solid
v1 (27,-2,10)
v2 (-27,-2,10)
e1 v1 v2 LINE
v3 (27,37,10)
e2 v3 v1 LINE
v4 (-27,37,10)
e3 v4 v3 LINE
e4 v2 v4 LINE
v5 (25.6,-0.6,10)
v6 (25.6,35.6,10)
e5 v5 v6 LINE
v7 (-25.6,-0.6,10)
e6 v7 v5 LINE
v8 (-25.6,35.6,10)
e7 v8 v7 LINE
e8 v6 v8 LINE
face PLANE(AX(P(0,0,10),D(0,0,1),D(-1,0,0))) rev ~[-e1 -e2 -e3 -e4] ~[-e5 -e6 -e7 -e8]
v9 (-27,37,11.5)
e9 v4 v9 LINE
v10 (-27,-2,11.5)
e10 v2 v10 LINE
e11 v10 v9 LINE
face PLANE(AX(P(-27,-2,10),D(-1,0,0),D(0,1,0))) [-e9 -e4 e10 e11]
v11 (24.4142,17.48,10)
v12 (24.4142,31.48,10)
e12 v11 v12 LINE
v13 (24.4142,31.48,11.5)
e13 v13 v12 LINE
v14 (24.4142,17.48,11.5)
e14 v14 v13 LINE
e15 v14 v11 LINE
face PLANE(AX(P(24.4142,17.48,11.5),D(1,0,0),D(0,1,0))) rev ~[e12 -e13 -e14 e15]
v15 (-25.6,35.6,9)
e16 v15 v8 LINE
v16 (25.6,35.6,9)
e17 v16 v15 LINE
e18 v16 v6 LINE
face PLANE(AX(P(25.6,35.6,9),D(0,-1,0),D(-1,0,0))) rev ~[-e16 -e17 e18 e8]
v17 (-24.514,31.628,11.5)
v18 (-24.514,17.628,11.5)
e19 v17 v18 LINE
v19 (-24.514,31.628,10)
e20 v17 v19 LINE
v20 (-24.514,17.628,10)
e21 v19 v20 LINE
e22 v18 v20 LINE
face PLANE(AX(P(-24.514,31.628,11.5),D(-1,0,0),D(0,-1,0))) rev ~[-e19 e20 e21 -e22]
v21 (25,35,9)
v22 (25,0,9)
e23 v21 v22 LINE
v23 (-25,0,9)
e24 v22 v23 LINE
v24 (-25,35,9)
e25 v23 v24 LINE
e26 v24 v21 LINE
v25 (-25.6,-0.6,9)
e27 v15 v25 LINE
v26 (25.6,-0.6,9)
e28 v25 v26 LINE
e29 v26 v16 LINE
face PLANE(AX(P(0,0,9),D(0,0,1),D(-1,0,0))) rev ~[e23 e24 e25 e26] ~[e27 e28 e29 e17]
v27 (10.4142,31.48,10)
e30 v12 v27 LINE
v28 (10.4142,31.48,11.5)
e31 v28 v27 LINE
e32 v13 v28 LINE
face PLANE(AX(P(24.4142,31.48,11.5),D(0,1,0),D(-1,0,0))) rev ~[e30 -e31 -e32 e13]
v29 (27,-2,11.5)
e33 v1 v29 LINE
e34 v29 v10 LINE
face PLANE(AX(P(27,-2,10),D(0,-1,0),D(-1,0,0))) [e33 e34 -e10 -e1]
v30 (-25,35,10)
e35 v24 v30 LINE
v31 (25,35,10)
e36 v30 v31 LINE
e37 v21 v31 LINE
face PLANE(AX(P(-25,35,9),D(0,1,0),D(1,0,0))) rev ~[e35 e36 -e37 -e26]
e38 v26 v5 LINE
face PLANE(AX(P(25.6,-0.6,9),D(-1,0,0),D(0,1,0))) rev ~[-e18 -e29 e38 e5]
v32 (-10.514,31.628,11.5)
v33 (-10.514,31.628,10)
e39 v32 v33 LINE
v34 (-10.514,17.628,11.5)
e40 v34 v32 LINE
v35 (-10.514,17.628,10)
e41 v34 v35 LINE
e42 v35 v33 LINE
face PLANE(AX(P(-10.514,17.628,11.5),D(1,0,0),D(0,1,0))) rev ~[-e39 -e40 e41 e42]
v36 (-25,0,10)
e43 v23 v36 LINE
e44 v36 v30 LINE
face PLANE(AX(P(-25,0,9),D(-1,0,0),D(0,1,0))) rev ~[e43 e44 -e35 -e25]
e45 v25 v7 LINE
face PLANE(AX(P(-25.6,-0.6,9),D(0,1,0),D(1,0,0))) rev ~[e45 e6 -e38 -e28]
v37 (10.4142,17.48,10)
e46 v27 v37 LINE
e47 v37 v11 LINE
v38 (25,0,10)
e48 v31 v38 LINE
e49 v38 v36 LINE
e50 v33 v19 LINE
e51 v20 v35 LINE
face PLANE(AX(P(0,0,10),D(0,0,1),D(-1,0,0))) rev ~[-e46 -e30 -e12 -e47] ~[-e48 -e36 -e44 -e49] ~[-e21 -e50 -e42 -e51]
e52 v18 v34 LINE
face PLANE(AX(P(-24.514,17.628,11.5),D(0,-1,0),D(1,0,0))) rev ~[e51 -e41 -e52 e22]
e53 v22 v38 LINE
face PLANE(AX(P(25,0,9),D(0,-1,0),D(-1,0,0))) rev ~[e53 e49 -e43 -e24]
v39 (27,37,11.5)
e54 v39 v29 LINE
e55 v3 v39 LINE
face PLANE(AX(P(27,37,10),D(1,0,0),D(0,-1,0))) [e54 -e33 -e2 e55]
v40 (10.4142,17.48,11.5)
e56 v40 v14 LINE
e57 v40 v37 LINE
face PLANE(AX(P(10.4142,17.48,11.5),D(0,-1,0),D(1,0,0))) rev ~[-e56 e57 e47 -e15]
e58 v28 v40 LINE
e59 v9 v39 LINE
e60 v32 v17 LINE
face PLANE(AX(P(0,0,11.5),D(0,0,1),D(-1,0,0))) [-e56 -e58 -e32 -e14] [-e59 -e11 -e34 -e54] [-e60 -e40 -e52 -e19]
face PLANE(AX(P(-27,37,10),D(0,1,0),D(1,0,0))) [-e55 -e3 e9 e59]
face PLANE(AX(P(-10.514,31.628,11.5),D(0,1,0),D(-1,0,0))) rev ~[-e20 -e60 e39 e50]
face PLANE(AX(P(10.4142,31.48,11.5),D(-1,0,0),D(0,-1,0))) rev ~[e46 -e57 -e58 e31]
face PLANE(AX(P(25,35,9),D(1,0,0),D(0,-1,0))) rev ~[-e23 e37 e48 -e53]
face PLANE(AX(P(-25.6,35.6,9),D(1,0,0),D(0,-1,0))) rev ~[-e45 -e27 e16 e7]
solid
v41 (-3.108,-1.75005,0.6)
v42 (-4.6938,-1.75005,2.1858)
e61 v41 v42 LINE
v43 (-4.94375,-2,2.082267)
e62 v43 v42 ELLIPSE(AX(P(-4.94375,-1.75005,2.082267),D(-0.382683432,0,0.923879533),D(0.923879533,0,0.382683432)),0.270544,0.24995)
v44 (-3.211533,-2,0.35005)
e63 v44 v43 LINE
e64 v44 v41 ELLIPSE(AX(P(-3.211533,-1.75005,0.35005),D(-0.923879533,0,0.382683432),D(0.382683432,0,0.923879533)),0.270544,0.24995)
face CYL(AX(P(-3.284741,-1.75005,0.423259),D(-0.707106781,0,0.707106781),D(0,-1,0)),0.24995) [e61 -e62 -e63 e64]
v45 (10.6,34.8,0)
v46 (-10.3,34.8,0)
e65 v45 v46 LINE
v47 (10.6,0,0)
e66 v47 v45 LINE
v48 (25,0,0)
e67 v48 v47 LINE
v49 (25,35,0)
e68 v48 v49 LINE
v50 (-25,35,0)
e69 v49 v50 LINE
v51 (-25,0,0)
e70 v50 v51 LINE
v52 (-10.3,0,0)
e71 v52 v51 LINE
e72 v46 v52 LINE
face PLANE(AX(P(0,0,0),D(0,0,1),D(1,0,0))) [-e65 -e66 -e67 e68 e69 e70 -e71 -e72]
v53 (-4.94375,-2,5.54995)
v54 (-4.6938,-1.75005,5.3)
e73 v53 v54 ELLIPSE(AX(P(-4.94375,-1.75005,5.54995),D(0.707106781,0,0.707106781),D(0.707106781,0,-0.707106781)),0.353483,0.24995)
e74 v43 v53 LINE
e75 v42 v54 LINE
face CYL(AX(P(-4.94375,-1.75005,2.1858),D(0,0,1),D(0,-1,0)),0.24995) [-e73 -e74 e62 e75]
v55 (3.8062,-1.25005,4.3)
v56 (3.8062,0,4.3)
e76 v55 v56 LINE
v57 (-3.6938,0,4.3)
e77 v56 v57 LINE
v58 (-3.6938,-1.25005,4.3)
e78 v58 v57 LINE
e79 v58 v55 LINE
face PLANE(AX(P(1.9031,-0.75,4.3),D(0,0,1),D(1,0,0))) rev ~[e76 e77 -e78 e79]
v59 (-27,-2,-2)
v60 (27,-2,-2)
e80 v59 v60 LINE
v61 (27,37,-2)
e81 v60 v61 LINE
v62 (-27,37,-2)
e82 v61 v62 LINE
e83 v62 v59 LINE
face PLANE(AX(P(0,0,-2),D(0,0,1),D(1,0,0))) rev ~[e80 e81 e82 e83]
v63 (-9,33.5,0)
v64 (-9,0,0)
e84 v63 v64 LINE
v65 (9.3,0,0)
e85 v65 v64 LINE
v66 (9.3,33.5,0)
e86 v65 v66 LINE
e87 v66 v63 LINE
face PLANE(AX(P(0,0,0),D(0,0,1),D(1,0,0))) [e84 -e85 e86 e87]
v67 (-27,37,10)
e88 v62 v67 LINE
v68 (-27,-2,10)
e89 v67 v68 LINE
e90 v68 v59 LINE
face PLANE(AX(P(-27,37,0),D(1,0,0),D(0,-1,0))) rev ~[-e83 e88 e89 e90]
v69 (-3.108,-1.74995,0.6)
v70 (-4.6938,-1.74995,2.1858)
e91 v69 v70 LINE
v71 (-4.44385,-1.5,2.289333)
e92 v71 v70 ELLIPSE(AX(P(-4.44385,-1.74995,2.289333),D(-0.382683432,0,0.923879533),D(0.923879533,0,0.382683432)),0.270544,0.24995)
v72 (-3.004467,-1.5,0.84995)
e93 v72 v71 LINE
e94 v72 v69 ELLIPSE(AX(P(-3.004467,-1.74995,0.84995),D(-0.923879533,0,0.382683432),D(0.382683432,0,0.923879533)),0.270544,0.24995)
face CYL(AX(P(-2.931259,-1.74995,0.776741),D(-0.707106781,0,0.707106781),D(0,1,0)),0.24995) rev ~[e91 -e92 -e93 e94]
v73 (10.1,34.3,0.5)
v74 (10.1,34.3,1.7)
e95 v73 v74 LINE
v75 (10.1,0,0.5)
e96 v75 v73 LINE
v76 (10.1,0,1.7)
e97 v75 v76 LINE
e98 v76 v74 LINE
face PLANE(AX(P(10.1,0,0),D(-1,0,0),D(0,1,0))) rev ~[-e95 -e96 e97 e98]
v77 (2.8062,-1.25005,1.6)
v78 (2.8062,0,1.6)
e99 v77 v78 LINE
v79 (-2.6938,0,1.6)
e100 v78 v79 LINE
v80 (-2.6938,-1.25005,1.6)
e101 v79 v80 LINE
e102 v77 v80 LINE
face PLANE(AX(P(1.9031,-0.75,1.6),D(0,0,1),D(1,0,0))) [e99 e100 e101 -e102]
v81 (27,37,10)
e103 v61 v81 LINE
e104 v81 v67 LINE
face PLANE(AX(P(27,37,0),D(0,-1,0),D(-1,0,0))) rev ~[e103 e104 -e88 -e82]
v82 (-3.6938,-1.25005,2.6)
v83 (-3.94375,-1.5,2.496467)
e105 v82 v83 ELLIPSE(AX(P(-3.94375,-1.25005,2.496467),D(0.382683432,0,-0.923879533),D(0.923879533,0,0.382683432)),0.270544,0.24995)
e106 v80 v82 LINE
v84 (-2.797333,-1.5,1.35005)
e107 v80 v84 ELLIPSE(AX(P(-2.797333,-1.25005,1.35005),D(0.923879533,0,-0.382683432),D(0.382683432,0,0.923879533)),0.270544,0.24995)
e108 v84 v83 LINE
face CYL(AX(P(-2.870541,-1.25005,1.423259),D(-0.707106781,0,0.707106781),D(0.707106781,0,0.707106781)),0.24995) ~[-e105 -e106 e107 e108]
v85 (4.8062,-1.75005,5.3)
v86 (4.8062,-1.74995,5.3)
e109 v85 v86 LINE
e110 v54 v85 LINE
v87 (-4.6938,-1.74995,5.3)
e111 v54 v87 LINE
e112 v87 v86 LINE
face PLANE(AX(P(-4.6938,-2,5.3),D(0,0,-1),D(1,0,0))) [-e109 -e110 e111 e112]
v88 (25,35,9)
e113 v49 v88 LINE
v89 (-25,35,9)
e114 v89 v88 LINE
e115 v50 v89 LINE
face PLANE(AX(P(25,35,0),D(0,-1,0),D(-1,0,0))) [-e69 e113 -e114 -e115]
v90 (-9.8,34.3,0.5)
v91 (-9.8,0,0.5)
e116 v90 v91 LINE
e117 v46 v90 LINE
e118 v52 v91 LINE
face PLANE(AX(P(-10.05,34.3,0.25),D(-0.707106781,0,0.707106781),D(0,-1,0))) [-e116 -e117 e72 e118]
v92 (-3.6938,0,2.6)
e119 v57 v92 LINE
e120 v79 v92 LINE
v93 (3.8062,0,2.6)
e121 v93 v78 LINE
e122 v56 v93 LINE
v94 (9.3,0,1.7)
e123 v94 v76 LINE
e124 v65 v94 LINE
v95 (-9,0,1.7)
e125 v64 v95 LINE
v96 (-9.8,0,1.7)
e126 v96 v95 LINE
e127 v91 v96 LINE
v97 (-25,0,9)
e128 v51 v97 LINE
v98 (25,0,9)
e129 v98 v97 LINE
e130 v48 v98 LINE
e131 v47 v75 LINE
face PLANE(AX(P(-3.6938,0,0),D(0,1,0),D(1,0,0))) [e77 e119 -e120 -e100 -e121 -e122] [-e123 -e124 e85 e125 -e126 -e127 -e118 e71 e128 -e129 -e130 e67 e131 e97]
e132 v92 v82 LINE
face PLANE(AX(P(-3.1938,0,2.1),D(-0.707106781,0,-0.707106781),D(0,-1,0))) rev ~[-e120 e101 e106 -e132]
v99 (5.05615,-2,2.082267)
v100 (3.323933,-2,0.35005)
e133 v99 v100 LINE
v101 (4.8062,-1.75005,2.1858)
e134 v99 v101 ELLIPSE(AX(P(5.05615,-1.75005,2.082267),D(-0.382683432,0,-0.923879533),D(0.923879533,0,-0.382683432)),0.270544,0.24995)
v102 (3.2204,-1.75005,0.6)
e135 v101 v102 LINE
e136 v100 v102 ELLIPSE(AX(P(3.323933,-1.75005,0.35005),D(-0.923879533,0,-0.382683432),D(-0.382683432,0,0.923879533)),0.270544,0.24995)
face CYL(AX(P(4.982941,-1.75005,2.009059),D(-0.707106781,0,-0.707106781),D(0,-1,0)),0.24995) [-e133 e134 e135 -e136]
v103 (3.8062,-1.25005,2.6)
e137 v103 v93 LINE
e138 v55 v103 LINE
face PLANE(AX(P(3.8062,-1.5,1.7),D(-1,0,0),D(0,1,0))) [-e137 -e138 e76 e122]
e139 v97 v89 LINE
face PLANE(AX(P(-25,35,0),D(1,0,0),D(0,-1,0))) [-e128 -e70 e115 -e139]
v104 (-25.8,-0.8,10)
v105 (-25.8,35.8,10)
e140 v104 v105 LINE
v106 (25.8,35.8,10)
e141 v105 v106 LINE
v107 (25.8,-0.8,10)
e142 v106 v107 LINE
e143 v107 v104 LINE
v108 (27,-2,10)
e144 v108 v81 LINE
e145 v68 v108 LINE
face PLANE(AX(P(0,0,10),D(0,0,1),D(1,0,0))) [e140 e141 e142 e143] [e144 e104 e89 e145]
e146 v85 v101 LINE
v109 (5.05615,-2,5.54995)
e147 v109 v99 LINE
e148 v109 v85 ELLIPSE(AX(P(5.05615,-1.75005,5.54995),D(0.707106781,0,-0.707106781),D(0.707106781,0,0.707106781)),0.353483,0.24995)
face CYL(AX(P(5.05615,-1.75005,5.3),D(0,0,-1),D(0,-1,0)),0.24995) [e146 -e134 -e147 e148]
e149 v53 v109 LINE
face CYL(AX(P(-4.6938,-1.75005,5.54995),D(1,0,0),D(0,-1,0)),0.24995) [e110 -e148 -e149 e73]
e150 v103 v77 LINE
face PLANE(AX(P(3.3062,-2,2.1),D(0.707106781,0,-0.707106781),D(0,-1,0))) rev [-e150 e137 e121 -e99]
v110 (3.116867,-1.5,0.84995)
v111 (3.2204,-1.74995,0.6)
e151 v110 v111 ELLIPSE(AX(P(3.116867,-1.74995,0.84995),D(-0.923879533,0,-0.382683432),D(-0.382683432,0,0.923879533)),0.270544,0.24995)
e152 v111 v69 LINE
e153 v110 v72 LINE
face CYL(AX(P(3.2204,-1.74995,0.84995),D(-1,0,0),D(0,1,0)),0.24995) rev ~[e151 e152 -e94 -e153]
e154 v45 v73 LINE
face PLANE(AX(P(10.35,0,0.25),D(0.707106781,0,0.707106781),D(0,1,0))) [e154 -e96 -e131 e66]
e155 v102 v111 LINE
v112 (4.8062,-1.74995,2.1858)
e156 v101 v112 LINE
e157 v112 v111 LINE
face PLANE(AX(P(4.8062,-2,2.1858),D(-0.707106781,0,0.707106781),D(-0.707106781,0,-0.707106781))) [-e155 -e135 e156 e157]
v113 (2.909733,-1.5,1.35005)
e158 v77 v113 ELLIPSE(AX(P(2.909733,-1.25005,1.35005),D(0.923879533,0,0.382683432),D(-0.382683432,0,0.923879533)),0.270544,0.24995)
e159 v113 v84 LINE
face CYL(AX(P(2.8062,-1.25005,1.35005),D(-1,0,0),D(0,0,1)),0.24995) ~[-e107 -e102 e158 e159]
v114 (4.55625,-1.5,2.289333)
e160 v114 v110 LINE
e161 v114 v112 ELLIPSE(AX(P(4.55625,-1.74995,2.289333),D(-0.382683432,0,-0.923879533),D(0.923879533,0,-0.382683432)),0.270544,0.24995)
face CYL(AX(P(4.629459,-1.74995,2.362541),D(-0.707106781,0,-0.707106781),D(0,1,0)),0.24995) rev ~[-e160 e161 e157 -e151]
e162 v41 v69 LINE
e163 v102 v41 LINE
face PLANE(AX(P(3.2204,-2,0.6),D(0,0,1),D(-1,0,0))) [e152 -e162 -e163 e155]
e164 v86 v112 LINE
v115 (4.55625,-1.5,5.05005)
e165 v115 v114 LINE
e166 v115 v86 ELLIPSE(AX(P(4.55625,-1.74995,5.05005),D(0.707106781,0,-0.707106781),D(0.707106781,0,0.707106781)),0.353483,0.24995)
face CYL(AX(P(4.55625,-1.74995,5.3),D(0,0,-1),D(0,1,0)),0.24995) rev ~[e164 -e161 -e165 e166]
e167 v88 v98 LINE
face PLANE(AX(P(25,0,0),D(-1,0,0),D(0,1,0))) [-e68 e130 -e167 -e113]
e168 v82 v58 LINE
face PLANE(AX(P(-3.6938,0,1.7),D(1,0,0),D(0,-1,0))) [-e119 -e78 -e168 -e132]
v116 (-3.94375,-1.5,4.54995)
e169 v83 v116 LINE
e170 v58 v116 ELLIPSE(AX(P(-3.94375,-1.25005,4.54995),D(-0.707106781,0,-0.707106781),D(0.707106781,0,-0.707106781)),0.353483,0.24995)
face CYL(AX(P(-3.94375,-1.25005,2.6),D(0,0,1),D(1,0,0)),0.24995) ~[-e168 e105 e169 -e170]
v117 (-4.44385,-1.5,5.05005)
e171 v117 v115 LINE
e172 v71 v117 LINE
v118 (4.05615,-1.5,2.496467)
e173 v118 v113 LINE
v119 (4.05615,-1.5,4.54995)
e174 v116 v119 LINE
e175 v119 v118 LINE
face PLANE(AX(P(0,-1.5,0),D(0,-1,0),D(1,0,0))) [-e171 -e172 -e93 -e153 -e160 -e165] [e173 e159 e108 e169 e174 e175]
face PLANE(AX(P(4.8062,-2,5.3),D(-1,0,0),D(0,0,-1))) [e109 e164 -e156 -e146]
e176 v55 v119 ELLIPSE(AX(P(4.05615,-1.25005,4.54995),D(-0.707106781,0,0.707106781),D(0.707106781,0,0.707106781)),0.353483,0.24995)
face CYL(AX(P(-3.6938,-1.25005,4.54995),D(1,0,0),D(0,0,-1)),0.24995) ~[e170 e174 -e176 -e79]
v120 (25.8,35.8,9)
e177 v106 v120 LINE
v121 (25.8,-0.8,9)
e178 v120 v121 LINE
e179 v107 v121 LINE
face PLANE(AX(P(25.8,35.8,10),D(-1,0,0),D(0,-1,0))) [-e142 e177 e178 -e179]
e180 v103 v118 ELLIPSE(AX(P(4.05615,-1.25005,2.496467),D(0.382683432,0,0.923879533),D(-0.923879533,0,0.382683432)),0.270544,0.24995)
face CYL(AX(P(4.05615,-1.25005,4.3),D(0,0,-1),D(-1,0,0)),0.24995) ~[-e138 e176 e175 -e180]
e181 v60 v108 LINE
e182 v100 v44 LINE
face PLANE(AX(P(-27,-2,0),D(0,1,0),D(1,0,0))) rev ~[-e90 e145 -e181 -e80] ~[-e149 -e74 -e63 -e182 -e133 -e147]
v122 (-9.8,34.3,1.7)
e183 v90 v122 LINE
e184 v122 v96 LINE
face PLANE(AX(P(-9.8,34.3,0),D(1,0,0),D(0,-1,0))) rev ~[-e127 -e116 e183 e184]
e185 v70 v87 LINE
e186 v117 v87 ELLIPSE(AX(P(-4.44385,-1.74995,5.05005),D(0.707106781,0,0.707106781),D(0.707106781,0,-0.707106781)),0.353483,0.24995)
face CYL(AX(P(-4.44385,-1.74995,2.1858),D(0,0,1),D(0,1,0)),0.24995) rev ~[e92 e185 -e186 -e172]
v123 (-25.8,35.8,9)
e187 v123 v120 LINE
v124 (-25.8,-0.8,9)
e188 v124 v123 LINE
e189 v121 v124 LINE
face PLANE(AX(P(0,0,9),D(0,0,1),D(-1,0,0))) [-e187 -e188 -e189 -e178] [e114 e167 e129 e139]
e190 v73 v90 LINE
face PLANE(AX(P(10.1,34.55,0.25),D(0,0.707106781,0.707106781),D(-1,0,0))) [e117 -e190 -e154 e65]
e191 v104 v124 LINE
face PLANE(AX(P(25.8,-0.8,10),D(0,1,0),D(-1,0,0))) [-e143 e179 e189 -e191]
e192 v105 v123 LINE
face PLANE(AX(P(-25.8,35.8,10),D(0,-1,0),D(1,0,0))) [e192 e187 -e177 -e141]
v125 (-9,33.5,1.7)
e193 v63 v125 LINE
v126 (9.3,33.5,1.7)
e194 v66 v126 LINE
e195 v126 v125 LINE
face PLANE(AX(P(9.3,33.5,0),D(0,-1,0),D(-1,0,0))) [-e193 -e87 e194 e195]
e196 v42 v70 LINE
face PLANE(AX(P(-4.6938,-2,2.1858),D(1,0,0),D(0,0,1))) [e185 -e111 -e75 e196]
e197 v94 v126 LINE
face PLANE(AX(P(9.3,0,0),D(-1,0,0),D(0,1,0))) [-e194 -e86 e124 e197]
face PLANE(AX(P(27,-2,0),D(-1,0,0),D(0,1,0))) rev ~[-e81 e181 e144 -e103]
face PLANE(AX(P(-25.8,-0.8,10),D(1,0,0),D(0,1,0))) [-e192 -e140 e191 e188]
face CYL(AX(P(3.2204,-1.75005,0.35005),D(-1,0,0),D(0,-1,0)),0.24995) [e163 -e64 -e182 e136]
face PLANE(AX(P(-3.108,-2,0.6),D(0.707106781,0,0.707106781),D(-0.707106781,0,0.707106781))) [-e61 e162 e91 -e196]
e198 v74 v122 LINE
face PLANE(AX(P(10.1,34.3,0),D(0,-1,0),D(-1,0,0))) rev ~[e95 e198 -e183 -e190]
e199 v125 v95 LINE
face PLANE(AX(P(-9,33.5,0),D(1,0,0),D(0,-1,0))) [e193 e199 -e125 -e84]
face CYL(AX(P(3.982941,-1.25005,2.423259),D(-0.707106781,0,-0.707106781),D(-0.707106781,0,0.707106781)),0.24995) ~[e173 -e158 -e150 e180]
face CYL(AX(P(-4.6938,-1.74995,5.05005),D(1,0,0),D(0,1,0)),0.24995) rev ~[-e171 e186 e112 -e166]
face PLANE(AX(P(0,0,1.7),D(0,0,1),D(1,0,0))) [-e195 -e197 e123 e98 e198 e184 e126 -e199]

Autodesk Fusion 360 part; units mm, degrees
sketch "Sketch1" plane through (0, 0, 0) normal (0, 0, 1) x (1, 0, 0)
  line L0 (-25, 0) -> (25, 0)
  line L1 (25, 0) -> (25, 35)
  line L2 (25, 35) -> (-25, 35)
  line L3 (-25, 35) -> (-25, 0)
  line L4 (27, -2) -> (27, 37)
  line L5 (27, 37) -> (-27, 37)
  line L6 (-27, 37) -> (-27, -2)
  line L7 (-27, -2) -> (27, -2)
  line L8 (0, 0) -> (0, -1.5)
  line L9 (-9, 0) -> (9.3, 0)
  line L10 (9.3, 0) -> (9.3, 33.5)
  line L11 (9.3, 33.5) -> (-9, 33.5)
  line L12 (-9, 33.5) -> (-9, 0)
  line L13 (-3.6938, -1.5) -> (3.8062, -1.5)
  line L14 (3.8062, -1.5) -> (3.8062, 0)
  line L15 (3.8062, 0) -> (-3.6938, 0)
  line L16 (-3.6938, 0) -> (-3.6938, -1.5)
  line L17 (10.1, 0) -> (10.1, 34.3)
  line L18 (10.1, 34.3) -> (-9.8, 34.3)
  line L19 (-9.8, 34.3) -> (-9.8, 0)
  dimension "d1" = 50
  dimension "d2" = 35
  dimension "d5" = 2
  dimension "d11" = 1.5
  dimension "d12" = 18.3
  dimension "d13" = 33.5
  dimension "d14" = 7.5
  dimension "d15" = 0.8
extrude "Extrude3" add sketch "Sketch1" along normal blind 1.7 contours L0 L10 L11 L12 L17 L18 L19 makes body 1
extrude "Extrude1" add sketch "Sketch1" against normal blind 2 separate body contours L0 L1 L2 L3 L17 L18 L19 | L0 L10 L11 L12 L17 L18 L19 | L0 L9 L10 L11 L12 L15 | L0 L8 L9 L13 L15 L16 | L0 L8 L9 L13 L14 L15 | L4 L5 L6 L7 makes body 2
extrude "Extrude2" add sketch "Sketch1" along normal blind 10 contours L0 L8 L9 L13 L15 L16 | L0 L8 L9 L13 L14 L15 | L4 L5 L6 L7 bodies 2
ref_plane "WorkPlane1" through (1.9031, -0.75, 1.7) normal (0, 0, 1) x (1, 0, 0)
sketch "Sketch2" plane through (1.9031, -0.75, 1.7) normal (0, 0, 1) x (1, 0, 0)
  line L0 (1.9031, -0.75) -> (1.9031, 0.75)
  line L1 (-5.5969, -0.75) -> (1.9031, -0.75)
  line L2 (-5.5969, 0.75) -> (-5.5969, -0.75)
  line L3 (1.9031, 0.75) -> (-5.5969, 0.75)
  line L4 (-5.5969, 0.75) -> (1.9031, 0.75)
  line L5 (1.9031, 0.75) -> (1.9031, -1.7033)
  line L6 (1.9031, -1.7033) -> (-5.5969, -1.7033)
  line L7 (-5.5969, -1.7033) -> (-5.5969, 0.75)
extrude "Extrude4" cut sketch "Sketch2" along normal blind 2.6 and the other way blind 0.1 bodies 2
chamfer "Chamfer1" distance 1 angle 45 2 edges at (-3.6938, -1, 1.6) (3.8062, -1, 1.6) on bodies 2
sketch "Sketch3" plane through (0, -2, 0) normal (0, -1, 0) x (1, 0, 0)
  line L0 (2.8062, 1.6) -> (-2.6938, 1.6)
  line L1 (-2.6938, 1.6) -> (-3.6938, 2.6)
  line L2 (-3.6938, 2.6) -> (-3.6938, 4.3)
  line L3 (-3.6938, 4.3) -> (3.8062, 4.3)
  line L4 (3.8062, 4.3) -> (3.8062, 2.6)
  line L5 (3.8062, 2.6) -> (2.8062, 1.6)
  line L6 (-27, 10) -> (-27, -2)
  line L7 (-27, -2) -> (27, -2)
  line L8 (27, -2) -> (27, 10)
  line L9 (27, 10) -> (-27, 10)
  line L10 (-3.6938, 4.3) -> (3.8062, 4.3)
  line L11 (3.8062, 4.3) -> (3.8062, 2.6)
  line L12 (2.8062, 1.6) -> (3.8062, 2.6)
  line L13 (2.8062, 1.6) -> (-2.6938, 1.6)
  line L14 (-3.6938, 2.6) -> (-2.6938, 1.6)
  line L15 (-3.6938, 2.6) -> (-3.6938, 4.3)
  line L16 (4.8062, 2.1858) -> (3.2204, 0.6)
  line L17 (3.2204, 0.6) -> (-3.108, 0.6)
  line L18 (-3.108, 0.6) -> (-4.6938, 2.1858)
  line L19 (-4.6938, 2.1858) -> (-4.6938, 5.3)
  line L20 (-4.6938, 5.3) -> (4.8062, 5.3)
  line L21 (4.8062, 5.3) -> (4.8062, 2.1858)
  dimension "d24" = -1
extrude "Extrude6" cut sketch "Sketch3" against normal blind 0.5 contours L16 L17 L18 L19 L20 L21 bodies 2
fillet "Fillet1" radius 0.25 18 edges at (0.0562, -1.5, 5.3) (0.0562, -2, 5.3) (-4.6938, -1.5, 3.7429) (-4.6938, -2, 3.7429) (-3.9009, -2, 1.3929) (-3.9009, -1.5, 1.3929) (0.0562, -1.5, 0.6) (0.0562, -2, 0.6) (4.8062, -1.5, 3.7429) (4.8062, -2, 3.7429) (4.0133, -1.5, 1.3929) (4.0133, -2, 1.3929) (0.0562, -1.5, 4.3) (-3.6938, -1.5, 3.45) (-3.1938, -1.5, 2.1) (0.0562, -1.5, 1.6) (3.3062, -1.5, 2.1) (3.8062, -1.5, 3.45) on bodies 2
combine "Combine1" operation add target body 1 tool bodies 2
chamfer "Chamfer2" distance 0.5 angle 45 3 edges at (10.1, 17.15, 0) (-9.8, 17.15, 0) (0.15, 34.3, 0) on bodies 1
sketch "Sketch4" plane through (0, 0, 10) normal (0, 0, 1) x (-1, 0, 0)
  line L0 (25, 0) -> (25, -35)
  line L1 (25, -35) -> (-25, -35)
  line L2 (-25, -35) -> (-25, 0)
  line L3 (-25, 0) -> (25, 0)
  line L4 (27, 2) -> (-27, 2)
  line L5 (-27, 2) -> (-27, -37)
  line L6 (-27, -37) -> (27, -37)
  line L7 (27, -37) -> (27, 2)
  line L8 (-25, -35) -> (25, -35)
  line L9 (-25, 0) -> (-25, -35)
  line L10 (25, -35) -> (25, 0)
  line L11 (25, 0) -> (-25, 0)
  line L12 (25.8, 0.8) -> (25.8, -35.8)
  line L13 (25.8, -35.8) -> (-25.8, -35.8)
  line L14 (-25.8, -35.8) -> (-25.8, 0.8)
  line L15 (-25.8, 0.8) -> (25.8, 0.8)
  dimension "d32" = -0.8
extrude "Extrude7" cut sketch "Sketch4" against normal blind 1 contours L12 L13 L14 L15 bodies 1
sketch "Sketch5" plane through (0, 0, 9) normal (0, 0, 1) x (-1, 0, 0)
  line L0 (-25, 0) -> (25, 0)
  line L1 (25, 0) -> (25, -35)
  line L2 (25, -35) -> (-25, -35)
  line L3 (-25, -35) -> (-25, 0)
  line L4 (-25.8, 0.8) -> (-25.8, -35.8)
  line L5 (-25.8, -35.8) -> (25.8, -35.8)
  line L6 (25.8, -35.8) -> (25.8, 0.8)
  line L7 (25.8, 0.8) -> (-25.8, 0.8)
  line L8 (-25.8, -35.8) -> (-25.8, 0.8)
  line L9 (25.8, -35.8) -> (-25.8, -35.8)
  line L10 (25.8, 0.8) -> (25.8, -35.8)
  line L11 (-25.8, 0.8) -> (25.8, 0.8)
  line L12 (25.6, -35.6) -> (25.6, 0.6)
  line L13 (25.6, 0.6) -> (-25.6, 0.6)
  line L14 (-25.6, 0.6) -> (-25.6, -35.6)
  line L15 (-25.6, -35.6) -> (25.6, -35.6)
  dimension "d35" = -0.2
extrude "Extrude8" add sketch "Sketch5" along normal blind 1 separate body contours L12 L13 L14 L15 makes body 3
sketch "Sketch6" plane through (0, 0, 10) normal (0, 0, 1) x (-1, 0, 0)
  line L0 (25, -35) -> (-25, -35)
  line L1 (-25, -35) -> (-25, 0)
  line L2 (-25, 0) -> (25, 0)
  line L3 (25, 0) -> (25, -35)
  line L4 (-25.6, -35.6) -> (25.6, -35.6)
  line L5 (25.6, -35.6) -> (25.6, 0.6)
  line L6 (25.6, 0.6) -> (-25.6, 0.6)
  line L7 (-25.6, 0.6) -> (-25.6, -35.6)
  line L8 (27, -37) -> (-27, -37)
  line L9 (-27, -37) -> (-27, 2)
  line L10 (-27, 2) -> (27, 2)
  line L11 (27, 2) -> (27, -37)
extrude "Extrude9" add sketch "Sketch6" along normal blind 1.5 separate body contours L0 L1 L2 L3 | L4 L5 L6 L7 | L8 L9 L10 L11 makes body 4
combine "Combine2" operation add target body 4 tool bodies 3
sketch "Sketch7" plane through (0, 0, 11.5) normal (0, 0, 1) x (-1, 0, 0)
  line L0 (27, 2) -> (-27, 2)
  line L1 (-27, 2) -> (-27, -37)
  line L2 (-27, -37) -> (27, -37)
  line L3 (27, -37) -> (27, 2)
  line L4 (24.514, -17.628) -> (10.514, -17.628)
  line L5 (10.514, -17.628) -> (10.514, -31.628)
  line L6 (10.514, -31.628) -> (24.514, -31.628)
  line L7 (24.514, -31.628) -> (24.514, -17.628)
  line L8 (-24.4142, -17.48) -> (-24.4142, -31.48)
  line L9 (-24.4142, -31.48) -> (-10.4142, -31.48)
  line L10 (-10.4142, -31.48) -> (-10.4142, -17.48)
  line L11 (-10.4142, -17.48) -> (-24.4142, -17.48)
  dimension "d40" = 14
  dimension "d41" = 14
  dimension "d42" = 14
  dimension "d43" = 14
extrude "Extrude10" cut sketch "Sketch7" against normal blind 3 contours L4 L5 L6 L7 | L8 L9 L10 L11 bodies 4
